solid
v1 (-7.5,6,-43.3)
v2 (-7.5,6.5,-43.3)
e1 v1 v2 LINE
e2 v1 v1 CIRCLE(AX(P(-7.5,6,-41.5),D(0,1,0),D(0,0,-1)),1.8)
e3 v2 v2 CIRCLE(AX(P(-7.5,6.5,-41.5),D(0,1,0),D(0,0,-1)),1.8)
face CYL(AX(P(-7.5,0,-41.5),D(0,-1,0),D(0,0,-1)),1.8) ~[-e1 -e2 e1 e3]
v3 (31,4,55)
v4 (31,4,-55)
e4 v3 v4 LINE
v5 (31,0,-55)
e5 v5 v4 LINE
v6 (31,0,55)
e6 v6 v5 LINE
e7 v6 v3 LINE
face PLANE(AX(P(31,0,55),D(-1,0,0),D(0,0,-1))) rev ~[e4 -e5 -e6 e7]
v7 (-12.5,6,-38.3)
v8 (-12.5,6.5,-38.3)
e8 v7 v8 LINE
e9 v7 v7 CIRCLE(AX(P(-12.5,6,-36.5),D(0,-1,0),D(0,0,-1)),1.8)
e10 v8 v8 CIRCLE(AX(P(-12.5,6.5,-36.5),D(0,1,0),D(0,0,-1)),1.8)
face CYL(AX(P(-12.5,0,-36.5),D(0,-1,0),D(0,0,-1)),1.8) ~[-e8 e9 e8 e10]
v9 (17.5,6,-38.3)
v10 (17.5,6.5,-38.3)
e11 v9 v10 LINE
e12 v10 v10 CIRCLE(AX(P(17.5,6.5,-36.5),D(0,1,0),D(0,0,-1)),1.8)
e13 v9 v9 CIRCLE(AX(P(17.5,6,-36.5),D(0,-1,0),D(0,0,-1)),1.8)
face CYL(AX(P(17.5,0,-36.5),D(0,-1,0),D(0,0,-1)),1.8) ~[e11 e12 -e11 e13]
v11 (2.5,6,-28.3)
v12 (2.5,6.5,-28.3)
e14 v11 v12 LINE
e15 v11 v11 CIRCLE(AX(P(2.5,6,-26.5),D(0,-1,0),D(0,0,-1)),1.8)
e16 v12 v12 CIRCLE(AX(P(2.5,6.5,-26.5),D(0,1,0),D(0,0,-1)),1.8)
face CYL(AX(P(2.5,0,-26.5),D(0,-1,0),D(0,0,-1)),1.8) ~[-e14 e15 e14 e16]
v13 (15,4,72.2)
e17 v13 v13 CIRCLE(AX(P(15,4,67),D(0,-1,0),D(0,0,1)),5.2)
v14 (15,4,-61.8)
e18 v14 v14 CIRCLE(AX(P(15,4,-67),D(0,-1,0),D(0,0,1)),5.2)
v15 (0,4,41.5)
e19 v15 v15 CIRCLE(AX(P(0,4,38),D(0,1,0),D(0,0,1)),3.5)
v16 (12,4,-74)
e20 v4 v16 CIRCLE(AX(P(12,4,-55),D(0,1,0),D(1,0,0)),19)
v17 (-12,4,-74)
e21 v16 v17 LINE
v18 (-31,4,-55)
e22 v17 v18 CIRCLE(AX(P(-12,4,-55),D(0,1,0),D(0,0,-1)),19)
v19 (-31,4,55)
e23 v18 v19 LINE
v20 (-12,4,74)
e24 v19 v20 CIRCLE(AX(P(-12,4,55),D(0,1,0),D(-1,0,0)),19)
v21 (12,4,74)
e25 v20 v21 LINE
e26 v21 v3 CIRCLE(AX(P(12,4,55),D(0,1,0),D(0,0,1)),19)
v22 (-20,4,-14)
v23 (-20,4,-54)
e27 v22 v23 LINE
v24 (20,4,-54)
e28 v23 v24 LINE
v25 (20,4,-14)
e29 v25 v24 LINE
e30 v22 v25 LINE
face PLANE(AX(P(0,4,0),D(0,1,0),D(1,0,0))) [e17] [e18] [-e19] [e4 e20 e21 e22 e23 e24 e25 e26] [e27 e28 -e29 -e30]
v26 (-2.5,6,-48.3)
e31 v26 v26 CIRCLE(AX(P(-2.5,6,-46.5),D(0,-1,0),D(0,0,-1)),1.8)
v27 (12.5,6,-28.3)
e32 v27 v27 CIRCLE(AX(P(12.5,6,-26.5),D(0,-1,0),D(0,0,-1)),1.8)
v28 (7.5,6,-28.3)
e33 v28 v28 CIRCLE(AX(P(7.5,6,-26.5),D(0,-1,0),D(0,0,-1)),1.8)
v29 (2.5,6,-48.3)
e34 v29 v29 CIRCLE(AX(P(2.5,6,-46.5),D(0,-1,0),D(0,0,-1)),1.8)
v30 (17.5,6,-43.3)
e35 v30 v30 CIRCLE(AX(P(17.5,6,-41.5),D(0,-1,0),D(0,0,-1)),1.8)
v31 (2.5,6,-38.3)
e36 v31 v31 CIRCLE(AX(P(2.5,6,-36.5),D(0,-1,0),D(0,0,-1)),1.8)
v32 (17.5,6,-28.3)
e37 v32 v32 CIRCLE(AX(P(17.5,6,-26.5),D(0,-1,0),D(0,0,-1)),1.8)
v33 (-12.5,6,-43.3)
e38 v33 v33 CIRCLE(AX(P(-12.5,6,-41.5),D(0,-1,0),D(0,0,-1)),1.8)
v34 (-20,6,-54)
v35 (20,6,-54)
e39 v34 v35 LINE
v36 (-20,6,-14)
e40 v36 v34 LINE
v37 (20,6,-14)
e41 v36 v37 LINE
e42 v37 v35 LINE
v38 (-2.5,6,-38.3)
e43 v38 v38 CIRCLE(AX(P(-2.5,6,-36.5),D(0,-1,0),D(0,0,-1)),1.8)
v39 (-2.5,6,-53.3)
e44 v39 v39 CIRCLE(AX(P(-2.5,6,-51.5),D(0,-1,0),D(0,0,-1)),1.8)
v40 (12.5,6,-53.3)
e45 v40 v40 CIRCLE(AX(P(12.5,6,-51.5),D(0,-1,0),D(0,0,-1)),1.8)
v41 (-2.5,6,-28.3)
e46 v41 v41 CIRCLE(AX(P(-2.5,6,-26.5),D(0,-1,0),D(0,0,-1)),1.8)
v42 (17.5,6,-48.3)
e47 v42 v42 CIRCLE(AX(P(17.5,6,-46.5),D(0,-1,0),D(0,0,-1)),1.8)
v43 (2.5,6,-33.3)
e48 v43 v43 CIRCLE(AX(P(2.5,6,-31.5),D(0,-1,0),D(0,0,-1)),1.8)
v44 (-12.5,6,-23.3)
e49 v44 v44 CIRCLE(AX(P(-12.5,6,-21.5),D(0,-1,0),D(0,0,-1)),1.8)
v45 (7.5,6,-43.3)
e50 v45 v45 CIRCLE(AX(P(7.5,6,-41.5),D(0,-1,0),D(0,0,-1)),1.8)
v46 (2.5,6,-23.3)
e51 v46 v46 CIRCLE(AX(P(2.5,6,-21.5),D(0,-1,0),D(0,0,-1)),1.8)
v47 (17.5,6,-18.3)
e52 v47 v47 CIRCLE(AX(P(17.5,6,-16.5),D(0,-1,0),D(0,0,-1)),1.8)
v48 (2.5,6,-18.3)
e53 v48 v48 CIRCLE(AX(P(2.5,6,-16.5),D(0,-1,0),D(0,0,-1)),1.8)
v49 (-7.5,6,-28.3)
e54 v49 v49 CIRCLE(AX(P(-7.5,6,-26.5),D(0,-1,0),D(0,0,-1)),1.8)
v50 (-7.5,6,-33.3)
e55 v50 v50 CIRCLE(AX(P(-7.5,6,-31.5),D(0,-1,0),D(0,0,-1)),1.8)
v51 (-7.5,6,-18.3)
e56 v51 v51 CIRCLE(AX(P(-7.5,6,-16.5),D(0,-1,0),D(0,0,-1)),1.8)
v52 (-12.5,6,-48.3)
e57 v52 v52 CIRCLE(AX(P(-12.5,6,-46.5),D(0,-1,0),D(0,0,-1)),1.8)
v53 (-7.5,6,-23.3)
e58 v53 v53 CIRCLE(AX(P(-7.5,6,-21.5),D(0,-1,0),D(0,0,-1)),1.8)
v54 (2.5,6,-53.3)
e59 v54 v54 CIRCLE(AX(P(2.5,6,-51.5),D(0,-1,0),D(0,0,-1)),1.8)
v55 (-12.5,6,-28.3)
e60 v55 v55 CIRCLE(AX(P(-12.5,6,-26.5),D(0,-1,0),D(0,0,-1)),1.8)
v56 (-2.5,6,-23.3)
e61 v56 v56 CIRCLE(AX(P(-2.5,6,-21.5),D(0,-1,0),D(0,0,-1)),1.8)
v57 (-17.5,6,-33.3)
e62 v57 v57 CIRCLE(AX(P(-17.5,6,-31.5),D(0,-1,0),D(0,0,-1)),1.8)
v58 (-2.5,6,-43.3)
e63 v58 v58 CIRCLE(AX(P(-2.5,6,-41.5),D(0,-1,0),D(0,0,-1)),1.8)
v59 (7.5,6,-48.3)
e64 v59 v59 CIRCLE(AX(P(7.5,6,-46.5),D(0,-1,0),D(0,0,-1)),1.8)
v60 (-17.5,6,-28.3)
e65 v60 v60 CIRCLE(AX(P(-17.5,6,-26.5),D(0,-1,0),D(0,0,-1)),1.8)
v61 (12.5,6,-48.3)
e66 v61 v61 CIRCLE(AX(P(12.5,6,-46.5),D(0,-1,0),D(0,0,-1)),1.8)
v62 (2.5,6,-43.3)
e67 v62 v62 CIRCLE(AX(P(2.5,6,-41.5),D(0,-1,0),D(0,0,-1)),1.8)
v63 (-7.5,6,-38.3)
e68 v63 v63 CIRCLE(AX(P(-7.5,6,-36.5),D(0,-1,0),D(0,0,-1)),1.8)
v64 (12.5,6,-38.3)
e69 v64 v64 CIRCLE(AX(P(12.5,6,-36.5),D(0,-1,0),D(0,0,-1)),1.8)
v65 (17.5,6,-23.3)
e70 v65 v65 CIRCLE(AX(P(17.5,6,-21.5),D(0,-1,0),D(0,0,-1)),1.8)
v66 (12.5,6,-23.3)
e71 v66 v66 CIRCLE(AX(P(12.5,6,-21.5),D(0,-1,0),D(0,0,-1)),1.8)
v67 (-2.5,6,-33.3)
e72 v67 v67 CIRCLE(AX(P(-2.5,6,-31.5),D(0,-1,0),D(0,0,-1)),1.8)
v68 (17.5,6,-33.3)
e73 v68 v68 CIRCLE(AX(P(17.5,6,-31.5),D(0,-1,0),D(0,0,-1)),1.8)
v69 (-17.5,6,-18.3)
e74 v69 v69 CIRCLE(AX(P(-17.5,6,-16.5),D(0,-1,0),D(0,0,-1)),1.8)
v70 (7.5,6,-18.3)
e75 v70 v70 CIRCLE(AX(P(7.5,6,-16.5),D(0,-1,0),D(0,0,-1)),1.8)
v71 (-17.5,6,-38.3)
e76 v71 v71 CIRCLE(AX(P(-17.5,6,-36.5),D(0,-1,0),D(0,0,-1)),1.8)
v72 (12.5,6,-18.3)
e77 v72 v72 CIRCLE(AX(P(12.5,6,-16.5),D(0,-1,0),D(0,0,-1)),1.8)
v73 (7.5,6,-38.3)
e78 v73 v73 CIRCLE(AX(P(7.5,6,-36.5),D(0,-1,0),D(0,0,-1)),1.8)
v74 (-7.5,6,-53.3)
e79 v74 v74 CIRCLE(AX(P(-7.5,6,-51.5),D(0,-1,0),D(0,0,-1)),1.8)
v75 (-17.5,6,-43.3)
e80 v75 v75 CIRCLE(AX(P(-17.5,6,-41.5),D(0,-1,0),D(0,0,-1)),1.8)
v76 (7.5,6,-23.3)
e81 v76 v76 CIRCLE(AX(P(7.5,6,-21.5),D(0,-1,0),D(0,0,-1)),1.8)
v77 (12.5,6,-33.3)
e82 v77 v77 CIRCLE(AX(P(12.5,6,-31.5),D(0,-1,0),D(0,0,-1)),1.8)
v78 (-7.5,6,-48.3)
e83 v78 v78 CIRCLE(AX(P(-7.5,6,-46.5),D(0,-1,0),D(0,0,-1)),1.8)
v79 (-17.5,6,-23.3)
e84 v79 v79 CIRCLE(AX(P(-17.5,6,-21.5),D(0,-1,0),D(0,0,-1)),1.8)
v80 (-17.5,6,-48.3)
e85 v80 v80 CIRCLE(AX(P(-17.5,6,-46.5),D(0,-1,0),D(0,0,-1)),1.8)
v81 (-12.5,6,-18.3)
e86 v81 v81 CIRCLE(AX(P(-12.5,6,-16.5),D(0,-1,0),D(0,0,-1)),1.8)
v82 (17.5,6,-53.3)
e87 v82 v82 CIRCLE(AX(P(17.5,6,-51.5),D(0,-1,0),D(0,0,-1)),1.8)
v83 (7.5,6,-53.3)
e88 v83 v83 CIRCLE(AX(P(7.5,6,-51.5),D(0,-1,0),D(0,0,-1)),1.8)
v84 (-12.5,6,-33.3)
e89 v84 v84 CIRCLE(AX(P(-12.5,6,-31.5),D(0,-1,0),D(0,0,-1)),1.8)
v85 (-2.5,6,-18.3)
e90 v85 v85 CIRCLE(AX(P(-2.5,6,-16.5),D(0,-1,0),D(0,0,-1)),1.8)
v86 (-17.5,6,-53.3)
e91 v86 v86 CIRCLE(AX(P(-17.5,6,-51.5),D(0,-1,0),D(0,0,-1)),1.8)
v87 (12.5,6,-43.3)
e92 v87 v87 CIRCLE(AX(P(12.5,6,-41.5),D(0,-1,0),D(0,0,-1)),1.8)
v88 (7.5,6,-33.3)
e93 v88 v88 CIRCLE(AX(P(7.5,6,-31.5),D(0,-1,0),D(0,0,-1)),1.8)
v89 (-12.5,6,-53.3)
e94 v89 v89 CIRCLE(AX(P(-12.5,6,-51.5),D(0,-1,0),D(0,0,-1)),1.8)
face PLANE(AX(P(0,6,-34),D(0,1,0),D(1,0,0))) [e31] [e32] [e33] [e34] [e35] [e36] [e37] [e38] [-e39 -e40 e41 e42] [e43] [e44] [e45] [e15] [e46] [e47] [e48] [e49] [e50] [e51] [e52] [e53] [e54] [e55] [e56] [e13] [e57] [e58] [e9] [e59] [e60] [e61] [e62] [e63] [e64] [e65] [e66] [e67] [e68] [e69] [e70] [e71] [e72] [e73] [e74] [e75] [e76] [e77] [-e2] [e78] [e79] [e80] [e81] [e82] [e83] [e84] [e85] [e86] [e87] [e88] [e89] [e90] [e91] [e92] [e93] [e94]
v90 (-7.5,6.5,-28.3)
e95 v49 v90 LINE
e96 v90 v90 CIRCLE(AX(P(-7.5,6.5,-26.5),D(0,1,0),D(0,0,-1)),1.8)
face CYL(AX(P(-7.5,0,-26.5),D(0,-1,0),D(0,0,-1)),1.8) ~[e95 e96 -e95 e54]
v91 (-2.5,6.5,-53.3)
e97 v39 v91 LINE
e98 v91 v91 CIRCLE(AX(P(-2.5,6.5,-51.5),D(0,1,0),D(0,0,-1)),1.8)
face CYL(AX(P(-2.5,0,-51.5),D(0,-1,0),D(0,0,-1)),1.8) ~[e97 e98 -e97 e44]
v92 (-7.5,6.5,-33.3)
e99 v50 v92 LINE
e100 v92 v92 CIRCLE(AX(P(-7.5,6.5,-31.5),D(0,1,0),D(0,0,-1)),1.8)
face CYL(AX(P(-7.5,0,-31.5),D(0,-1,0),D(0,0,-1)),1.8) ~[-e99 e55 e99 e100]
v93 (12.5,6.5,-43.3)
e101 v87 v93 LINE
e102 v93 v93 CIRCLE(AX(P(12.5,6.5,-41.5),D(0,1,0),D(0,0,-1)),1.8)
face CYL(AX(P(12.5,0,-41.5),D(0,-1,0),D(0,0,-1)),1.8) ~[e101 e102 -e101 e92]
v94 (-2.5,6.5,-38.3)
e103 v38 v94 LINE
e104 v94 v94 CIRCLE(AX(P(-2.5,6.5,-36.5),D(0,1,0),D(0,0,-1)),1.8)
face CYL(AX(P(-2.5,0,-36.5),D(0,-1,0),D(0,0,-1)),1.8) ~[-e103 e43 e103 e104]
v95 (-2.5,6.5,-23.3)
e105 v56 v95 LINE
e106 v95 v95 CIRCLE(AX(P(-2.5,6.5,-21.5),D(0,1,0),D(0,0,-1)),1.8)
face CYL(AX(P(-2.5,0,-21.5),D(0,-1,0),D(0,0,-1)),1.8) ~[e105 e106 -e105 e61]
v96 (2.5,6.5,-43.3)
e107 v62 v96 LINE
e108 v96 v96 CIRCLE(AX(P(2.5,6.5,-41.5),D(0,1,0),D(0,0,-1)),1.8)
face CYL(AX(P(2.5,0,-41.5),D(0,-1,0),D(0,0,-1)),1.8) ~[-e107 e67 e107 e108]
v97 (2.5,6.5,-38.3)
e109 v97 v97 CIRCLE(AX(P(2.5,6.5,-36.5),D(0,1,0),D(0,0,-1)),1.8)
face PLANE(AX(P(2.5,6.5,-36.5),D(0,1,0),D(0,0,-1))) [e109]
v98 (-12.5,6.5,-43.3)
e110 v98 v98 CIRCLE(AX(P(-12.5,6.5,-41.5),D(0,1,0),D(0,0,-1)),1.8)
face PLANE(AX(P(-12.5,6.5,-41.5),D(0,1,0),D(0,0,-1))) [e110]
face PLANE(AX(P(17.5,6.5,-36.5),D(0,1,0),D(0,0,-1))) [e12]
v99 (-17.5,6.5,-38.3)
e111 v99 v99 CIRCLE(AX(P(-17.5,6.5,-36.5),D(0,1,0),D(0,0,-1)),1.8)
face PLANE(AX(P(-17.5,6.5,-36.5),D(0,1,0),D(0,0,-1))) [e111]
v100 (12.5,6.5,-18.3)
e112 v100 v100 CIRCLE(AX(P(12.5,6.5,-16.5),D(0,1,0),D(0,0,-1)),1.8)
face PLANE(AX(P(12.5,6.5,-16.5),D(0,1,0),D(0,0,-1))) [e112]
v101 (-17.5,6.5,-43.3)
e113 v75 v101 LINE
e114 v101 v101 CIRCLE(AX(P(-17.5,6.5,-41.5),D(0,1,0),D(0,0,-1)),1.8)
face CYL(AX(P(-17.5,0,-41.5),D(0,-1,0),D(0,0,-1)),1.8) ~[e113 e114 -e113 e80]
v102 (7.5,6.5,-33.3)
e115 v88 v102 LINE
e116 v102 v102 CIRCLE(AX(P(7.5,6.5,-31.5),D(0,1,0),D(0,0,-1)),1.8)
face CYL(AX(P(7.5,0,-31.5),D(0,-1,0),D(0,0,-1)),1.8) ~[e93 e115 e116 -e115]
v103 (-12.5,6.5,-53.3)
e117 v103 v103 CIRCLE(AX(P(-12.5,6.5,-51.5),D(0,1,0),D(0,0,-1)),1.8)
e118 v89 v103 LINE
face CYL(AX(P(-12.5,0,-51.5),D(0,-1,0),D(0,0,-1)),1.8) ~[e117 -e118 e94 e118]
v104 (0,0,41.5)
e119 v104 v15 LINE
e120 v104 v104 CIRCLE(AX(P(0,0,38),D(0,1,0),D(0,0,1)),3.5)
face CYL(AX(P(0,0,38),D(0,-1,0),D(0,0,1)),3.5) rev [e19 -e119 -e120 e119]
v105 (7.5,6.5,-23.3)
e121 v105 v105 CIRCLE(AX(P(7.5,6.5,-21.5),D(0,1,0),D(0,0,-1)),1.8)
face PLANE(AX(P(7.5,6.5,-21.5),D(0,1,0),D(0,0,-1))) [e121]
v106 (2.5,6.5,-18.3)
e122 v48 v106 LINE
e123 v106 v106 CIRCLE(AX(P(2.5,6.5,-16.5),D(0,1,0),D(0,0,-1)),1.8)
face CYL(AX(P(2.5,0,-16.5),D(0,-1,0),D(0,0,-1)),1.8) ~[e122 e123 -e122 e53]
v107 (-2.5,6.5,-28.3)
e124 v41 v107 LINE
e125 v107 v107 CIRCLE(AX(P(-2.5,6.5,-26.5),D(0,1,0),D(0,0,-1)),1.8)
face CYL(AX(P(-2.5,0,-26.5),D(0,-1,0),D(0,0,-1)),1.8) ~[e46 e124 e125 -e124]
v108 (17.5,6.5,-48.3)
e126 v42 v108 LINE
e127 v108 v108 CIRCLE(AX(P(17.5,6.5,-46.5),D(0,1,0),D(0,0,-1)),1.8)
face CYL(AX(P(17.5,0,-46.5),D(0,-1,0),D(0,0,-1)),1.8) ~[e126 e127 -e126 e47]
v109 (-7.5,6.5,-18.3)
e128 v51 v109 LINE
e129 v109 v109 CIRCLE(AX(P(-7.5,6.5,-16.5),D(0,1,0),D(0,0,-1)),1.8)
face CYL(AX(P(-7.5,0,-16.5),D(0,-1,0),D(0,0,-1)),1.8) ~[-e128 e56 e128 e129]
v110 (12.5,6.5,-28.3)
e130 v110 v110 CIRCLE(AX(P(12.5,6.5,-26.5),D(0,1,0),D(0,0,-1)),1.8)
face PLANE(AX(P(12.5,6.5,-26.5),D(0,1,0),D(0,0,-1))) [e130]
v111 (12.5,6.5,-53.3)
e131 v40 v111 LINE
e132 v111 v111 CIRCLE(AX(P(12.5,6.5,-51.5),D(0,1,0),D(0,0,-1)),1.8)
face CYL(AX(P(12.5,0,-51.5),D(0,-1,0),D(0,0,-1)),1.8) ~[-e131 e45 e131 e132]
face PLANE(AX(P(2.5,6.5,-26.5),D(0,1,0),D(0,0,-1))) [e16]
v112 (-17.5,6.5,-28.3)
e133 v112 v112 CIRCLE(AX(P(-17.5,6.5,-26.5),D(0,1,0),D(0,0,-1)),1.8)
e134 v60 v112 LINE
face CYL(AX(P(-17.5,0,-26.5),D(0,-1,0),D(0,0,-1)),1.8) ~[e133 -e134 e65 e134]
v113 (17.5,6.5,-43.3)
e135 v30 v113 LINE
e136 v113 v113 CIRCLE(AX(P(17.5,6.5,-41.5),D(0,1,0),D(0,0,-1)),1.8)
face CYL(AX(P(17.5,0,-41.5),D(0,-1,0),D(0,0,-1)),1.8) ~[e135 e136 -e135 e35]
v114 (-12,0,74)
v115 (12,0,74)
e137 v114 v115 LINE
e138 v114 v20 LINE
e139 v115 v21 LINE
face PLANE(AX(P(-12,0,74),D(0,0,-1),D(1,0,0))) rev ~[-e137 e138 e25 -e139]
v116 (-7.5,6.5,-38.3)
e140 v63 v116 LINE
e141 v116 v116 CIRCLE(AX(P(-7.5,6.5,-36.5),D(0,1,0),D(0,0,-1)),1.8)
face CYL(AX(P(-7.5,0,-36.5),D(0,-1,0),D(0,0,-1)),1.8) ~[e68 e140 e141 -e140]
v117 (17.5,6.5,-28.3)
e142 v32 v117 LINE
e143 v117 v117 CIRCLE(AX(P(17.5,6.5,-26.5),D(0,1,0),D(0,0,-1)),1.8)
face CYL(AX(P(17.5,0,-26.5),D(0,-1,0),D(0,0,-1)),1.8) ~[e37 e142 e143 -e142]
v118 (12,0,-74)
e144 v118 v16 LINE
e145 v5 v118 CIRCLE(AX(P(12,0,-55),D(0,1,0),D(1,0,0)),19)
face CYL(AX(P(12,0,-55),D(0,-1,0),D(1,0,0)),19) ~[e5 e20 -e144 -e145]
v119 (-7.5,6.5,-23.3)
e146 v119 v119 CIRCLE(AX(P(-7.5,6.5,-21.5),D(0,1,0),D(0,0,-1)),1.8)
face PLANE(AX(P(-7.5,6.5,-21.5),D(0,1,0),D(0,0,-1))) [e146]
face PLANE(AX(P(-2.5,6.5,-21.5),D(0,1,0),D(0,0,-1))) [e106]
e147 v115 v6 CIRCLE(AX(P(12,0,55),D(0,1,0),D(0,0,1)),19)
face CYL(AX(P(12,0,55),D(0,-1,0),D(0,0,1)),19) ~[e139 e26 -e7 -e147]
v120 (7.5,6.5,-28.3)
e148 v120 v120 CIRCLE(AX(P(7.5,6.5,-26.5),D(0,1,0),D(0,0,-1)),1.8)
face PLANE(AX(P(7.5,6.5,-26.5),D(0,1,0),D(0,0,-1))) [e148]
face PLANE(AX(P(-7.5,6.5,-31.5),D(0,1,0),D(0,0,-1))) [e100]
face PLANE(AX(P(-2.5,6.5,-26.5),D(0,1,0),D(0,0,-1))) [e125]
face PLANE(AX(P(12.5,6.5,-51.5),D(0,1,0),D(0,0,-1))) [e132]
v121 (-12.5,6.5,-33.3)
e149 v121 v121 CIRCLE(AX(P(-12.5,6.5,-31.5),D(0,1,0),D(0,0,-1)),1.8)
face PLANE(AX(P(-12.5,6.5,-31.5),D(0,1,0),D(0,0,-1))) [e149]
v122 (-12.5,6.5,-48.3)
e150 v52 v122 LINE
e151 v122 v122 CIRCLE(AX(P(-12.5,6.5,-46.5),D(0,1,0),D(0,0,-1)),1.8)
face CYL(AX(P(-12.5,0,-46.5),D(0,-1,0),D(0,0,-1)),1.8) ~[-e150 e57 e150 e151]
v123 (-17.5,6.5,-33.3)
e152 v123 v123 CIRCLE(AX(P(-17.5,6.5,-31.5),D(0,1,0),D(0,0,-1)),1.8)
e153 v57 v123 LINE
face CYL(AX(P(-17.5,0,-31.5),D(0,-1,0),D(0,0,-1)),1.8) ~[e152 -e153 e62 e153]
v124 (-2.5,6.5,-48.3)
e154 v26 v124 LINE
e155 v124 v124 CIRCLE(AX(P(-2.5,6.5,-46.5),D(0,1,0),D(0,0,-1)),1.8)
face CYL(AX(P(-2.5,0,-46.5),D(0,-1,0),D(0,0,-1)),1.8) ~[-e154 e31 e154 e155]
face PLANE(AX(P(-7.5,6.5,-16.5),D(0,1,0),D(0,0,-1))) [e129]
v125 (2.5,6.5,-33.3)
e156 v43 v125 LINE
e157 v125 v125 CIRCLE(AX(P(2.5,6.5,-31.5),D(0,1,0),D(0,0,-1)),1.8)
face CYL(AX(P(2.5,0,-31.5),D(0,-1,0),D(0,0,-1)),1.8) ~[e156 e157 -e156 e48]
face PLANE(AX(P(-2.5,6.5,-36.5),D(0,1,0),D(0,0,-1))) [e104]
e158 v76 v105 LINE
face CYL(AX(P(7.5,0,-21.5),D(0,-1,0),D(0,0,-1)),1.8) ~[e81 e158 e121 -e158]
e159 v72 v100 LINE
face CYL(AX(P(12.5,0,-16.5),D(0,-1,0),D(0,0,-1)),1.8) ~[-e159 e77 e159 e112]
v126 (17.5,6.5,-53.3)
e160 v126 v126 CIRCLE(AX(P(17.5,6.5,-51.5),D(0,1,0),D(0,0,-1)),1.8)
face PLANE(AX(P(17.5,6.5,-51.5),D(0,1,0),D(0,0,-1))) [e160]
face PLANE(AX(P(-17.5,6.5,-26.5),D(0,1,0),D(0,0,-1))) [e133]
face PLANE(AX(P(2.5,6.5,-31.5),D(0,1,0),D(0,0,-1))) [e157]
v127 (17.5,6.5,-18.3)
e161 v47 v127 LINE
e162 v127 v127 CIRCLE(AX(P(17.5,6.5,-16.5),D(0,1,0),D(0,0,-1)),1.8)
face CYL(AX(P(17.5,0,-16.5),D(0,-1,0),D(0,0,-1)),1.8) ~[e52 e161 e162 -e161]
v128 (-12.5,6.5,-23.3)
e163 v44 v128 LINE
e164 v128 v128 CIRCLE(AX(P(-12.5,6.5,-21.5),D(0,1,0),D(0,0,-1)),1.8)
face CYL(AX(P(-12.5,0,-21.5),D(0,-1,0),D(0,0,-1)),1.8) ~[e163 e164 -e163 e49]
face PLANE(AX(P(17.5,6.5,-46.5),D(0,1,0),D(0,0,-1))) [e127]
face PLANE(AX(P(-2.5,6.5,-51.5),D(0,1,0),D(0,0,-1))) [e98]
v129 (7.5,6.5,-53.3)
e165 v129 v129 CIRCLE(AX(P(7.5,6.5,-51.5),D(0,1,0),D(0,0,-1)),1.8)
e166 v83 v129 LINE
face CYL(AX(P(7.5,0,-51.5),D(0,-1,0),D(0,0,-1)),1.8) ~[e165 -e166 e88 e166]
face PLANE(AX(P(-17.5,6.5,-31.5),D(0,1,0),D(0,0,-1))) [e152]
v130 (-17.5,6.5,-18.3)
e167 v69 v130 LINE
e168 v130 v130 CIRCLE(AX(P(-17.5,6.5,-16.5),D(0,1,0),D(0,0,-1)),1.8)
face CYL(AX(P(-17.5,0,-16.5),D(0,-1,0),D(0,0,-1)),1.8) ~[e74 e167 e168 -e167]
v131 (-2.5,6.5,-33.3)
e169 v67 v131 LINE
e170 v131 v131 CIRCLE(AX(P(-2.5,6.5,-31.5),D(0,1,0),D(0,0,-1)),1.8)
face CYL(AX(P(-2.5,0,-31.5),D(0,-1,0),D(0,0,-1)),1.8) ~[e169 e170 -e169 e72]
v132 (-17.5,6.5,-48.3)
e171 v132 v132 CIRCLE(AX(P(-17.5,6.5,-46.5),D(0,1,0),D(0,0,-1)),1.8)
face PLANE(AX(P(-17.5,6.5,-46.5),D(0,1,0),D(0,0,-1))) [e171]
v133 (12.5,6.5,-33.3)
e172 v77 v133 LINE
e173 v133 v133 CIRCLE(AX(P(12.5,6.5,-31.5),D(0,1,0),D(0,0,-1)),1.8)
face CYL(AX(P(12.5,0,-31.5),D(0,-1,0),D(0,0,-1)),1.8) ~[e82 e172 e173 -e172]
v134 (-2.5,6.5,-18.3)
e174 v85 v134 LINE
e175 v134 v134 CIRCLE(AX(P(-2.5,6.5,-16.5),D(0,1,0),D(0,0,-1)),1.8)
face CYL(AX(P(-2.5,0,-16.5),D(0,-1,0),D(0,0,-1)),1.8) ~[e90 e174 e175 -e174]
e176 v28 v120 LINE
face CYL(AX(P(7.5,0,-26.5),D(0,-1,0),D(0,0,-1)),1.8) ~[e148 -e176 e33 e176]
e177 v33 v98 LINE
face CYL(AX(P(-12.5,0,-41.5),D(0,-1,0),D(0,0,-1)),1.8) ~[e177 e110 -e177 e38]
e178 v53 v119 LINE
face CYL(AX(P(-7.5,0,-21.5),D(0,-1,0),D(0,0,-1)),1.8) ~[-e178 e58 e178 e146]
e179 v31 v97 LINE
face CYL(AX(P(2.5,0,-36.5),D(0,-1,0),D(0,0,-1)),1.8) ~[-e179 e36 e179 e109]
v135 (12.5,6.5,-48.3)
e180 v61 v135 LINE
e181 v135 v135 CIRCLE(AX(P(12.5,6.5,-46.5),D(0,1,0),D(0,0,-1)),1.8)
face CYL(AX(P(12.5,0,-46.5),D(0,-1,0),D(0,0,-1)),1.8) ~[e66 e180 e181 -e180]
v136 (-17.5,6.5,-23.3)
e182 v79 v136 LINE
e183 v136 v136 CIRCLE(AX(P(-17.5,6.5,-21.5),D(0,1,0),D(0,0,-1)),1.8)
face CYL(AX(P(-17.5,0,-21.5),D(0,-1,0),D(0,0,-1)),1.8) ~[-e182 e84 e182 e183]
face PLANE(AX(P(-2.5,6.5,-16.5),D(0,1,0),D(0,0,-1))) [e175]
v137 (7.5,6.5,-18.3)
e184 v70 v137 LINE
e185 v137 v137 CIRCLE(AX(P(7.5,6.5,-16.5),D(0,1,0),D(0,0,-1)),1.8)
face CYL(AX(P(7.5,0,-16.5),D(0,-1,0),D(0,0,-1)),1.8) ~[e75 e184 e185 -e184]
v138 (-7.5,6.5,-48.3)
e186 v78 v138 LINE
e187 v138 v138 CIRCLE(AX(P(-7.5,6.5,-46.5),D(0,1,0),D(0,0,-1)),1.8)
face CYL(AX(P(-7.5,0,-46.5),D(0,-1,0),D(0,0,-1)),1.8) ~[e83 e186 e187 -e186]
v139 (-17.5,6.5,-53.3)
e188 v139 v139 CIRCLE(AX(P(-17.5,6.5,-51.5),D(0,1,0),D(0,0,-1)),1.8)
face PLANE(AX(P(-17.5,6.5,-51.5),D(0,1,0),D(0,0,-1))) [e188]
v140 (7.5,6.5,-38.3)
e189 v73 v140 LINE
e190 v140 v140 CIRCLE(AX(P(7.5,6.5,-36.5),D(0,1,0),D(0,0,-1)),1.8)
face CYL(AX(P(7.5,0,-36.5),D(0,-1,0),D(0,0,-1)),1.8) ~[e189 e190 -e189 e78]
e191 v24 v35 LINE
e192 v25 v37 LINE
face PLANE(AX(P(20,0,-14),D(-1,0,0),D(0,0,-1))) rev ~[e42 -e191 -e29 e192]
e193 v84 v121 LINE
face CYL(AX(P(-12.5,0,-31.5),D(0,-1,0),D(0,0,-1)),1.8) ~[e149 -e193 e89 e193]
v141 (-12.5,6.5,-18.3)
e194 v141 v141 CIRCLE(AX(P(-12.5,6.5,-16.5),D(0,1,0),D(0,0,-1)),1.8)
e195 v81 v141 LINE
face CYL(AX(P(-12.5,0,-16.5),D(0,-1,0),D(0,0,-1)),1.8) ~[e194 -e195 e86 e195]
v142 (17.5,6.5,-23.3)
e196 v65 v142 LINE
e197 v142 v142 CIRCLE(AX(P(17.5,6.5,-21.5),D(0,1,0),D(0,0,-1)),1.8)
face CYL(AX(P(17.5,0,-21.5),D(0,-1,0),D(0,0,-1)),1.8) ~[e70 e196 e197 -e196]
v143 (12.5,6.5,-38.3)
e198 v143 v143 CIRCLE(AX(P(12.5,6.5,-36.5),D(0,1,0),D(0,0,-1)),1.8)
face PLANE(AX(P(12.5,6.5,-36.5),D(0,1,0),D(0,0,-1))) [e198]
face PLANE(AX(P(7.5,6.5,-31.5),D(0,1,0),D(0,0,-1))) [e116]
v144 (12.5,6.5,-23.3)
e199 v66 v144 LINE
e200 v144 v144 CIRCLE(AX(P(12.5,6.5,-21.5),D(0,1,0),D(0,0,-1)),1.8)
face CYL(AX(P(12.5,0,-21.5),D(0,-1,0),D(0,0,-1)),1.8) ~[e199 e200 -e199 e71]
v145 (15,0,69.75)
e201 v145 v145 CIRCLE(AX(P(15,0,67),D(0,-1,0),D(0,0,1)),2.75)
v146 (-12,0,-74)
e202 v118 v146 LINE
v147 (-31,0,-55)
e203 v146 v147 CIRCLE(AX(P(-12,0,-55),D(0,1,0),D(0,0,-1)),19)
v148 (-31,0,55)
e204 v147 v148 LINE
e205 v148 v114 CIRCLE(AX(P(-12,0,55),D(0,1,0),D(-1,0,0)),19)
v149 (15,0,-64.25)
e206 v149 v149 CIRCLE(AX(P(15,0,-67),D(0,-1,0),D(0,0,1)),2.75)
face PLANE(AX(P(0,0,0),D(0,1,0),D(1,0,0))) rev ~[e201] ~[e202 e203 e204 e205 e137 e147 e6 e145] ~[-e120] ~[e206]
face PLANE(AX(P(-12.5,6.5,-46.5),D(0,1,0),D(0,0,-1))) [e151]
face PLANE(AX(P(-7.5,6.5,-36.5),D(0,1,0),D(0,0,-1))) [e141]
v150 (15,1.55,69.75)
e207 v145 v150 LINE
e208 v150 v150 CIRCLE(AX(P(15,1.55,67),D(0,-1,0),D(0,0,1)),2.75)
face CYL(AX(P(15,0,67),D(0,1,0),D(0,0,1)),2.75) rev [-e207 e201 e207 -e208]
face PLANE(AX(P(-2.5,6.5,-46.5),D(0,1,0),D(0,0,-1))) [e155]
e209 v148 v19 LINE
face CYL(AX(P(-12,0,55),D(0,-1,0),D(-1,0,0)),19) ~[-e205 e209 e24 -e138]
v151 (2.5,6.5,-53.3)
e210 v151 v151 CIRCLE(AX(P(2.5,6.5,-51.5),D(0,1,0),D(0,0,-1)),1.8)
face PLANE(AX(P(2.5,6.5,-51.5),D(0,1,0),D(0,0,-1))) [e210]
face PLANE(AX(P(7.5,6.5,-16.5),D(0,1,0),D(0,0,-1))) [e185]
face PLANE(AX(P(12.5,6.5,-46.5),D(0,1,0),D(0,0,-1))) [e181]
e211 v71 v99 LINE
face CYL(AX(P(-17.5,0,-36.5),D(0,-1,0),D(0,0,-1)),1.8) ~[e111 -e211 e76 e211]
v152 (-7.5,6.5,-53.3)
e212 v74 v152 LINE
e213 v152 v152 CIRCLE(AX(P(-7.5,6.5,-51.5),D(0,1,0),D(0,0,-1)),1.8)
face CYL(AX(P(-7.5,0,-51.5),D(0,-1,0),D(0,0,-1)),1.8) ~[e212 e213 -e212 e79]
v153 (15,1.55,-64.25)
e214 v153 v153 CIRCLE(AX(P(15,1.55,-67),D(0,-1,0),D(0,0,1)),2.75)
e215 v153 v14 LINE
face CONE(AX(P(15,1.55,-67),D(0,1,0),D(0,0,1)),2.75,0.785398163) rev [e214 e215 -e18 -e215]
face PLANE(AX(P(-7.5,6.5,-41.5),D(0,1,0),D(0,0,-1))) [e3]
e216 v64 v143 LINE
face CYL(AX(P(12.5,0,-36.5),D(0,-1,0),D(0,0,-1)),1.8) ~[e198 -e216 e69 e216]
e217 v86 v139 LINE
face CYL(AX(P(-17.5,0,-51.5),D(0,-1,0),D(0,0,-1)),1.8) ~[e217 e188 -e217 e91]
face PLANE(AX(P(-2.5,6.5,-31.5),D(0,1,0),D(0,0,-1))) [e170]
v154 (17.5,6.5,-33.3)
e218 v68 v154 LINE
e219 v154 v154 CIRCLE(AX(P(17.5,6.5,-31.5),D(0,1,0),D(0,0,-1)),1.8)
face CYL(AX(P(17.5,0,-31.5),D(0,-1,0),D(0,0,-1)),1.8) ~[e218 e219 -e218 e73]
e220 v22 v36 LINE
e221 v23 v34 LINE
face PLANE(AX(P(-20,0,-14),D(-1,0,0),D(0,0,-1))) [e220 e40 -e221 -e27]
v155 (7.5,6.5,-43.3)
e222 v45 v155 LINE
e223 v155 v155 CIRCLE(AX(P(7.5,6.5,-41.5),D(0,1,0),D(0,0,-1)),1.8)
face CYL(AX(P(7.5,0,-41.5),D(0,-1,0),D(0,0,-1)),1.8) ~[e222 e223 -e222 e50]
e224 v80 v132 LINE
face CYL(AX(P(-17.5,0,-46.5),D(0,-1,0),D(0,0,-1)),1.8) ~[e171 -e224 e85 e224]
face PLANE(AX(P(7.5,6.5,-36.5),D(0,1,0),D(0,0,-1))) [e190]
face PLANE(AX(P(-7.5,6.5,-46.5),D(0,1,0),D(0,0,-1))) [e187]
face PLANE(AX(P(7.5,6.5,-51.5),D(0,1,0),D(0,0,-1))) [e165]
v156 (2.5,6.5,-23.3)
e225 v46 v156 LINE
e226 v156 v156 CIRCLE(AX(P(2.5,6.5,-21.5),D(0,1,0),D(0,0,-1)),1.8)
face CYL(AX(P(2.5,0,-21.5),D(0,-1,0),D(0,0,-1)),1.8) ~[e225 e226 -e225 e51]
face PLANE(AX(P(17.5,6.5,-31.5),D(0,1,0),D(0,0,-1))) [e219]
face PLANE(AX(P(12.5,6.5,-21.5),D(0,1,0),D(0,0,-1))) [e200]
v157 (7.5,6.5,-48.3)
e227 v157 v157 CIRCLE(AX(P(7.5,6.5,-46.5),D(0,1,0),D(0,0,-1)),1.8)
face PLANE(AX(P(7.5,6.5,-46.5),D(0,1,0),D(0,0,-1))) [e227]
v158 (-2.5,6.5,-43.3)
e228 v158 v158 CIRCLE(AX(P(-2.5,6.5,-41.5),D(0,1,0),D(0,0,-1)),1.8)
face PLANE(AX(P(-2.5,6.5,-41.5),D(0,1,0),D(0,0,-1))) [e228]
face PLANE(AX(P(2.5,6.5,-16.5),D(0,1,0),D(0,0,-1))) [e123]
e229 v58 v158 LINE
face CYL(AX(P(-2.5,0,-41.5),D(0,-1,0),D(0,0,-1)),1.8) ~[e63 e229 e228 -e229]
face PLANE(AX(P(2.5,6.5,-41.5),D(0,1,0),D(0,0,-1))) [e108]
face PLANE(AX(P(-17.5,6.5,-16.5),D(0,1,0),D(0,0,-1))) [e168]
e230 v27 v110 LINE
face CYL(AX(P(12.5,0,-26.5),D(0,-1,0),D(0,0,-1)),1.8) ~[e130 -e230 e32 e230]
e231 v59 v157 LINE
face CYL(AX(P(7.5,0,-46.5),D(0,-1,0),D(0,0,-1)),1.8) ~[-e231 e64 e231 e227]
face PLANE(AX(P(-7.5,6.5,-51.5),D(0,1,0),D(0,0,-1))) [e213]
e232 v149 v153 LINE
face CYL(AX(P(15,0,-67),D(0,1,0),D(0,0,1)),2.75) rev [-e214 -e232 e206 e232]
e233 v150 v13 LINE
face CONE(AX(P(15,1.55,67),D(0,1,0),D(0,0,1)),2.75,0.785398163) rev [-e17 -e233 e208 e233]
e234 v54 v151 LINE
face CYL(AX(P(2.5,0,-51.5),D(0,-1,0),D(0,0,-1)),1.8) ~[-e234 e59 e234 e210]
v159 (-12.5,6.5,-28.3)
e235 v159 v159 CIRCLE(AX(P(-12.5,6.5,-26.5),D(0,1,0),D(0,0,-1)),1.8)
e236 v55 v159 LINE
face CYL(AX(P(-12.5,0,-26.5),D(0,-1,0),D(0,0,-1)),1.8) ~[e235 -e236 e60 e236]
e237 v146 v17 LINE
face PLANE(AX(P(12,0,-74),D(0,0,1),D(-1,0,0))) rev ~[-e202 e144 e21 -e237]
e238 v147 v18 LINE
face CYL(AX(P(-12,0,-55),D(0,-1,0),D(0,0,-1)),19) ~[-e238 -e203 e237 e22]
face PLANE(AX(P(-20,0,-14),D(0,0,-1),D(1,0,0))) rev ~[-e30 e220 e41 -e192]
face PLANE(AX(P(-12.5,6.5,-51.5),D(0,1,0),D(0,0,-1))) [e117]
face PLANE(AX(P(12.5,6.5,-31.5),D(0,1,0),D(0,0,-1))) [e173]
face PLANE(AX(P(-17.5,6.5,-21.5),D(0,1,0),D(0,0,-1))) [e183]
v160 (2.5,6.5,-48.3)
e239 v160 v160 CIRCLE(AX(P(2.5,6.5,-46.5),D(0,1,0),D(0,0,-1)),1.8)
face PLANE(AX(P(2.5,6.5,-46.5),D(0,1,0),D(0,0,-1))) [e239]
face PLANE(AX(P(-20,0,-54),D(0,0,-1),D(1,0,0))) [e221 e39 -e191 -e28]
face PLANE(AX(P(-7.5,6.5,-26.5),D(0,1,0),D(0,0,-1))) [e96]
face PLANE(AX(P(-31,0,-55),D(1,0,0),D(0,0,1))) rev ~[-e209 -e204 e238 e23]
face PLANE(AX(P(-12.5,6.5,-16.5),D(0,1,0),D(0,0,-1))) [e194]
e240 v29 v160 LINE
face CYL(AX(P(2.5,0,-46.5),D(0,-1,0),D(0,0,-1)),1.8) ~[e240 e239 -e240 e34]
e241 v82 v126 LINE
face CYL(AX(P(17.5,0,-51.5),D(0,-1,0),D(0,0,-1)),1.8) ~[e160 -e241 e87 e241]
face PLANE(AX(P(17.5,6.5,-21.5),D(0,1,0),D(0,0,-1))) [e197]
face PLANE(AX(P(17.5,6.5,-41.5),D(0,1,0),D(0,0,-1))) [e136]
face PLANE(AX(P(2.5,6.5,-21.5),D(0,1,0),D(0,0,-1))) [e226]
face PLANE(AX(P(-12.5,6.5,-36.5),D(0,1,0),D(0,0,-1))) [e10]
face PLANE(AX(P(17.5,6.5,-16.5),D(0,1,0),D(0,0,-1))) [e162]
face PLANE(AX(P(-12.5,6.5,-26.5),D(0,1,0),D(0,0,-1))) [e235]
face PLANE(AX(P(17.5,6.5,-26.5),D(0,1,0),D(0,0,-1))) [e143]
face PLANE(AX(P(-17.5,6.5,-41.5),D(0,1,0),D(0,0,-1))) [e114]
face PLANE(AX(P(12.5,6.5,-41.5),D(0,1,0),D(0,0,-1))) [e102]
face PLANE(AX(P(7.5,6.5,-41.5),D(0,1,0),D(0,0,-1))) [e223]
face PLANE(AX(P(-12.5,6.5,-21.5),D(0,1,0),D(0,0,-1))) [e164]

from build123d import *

# Parameters (mm, degrees)
SKETCH1_R                                    = 3.5
SKETCH1_W                                    = 40
SKETCH1_H                                    = 40
BOSS_EXTRUDE1_DEPTH                          = 4
SKETCH1_5_W                                  = 40
SKETCH1_5_H                                  = 40
SKETCH1_5_R                                  = 1.8
BOSS_EXTRUDE2_DEPTH                          = 6
SKETCH1_6_R                                  = 1.8
BOSS_EXTRUDE3_DEPTH                          = 6.5
CSK_FOR_M5_COUNTERSUNK_FLAT_HEAD1_AT_2_COUNT = 2
CSK_FOR_M5_COUNTERSUNK_FLAT_HEAD1_AT_2_PITCH = 134


with BuildPart() as part:
    # Sketch1 → Boss-Extrude1 (new body)
    with BuildSketch(Plane(origin=(0, 0, 0), x_dir=(1, 0, 0), z_dir=(0, 1, 0))):
        with BuildLine():
            Line((-12, -74), (12, -74))
            ThreePointArc((12, -74), (25.435028843, -68.435028843), (31, -55))
            Line((31, -55), (31, 55))
            ThreePointArc((31, 55), (25.435028843, 68.435028843), (12, 74))
            Line((12, 74), (-12, 74))
            ThreePointArc((-12, 74), (-25.435028843, 68.435028843), (-31, 55))
            Line((-31, 55), (-31, -55))
            ThreePointArc((-31, -55), (-25.435028843, -68.435028843), (-12, -74))
        make_face()
        with Locations(Location((0, -38, 0), (0, 0, 270))):
            Circle(SKETCH1_R, mode=Mode.SUBTRACT)
        with Locations((0, 34)):
            Rectangle(SKETCH1_W, SKETCH1_H, mode=Mode.SUBTRACT)
    extrude(amount=BOSS_EXTRUDE1_DEPTH)

    # Sketch1<5> → Boss-Extrude2 (add)
    with BuildSketch(Plane(origin=(0, 0, 0), x_dir=(1, 0, 0), z_dir=(0, 1, 0))):
        with Locations((0, 34)):
            Rectangle(SKETCH1_5_W, SKETCH1_5_H)
        with Locations(Location((-17.5, 51.5, 0), (0, 0, 270))):
            Circle(SKETCH1_5_R, mode=Mode.SUBTRACT)
        with Locations(Location((-17.5, 46.5, 0), (0, 0, 270))):
            Circle(SKETCH1_5_R, mode=Mode.SUBTRACT)
        with Locations(Location((-17.5, 41.5, 0), (0, 0, 270))):
            Circle(SKETCH1_5_R, mode=Mode.SUBTRACT)
        with Locations(Location((-17.5, 36.5, 0), (0, 0, 270))):
            Circle(SKETCH1_5_R, mode=Mode.SUBTRACT)
        with Locations(Location((-17.5, 31.5, 0), (0, 0, 270))):
            Circle(SKETCH1_5_R, mode=Mode.SUBTRACT)
        with Locations(Location((-17.5, 26.5, 0), (0, 0, 270))):
            Circle(SKETCH1_5_R, mode=Mode.SUBTRACT)
        with Locations(Location((-17.5, 21.5, 0), (0, 0, 270))):
            Circle(SKETCH1_5_R, mode=Mode.SUBTRACT)
        with Locations(Location((-17.5, 16.5, 0), (0, 0, 270))):
            Circle(SKETCH1_5_R, mode=Mode.SUBTRACT)
        with Locations(Location((-12.5, 46.5, 0), (0, 0, 270))):
            Circle(SKETCH1_5_R, mode=Mode.SUBTRACT)
        with Locations(Location((-12.5, 41.5, 0), (0, 0, 270))):
            Circle(SKETCH1_5_R, mode=Mode.SUBTRACT)
        with Locations(Location((-12.5, 36.5, 0), (0, 0, 270))):
            Circle(SKETCH1_5_R, mode=Mode.SUBTRACT)
        with Locations(Location((-12.5, 31.5, 0), (0, 0, 270))):
            Circle(SKETCH1_5_R, mode=Mode.SUBTRACT)
        with Locations(Location((-12.5, 26.5, 0), (0, 0, 270))):
            Circle(SKETCH1_5_R, mode=Mode.SUBTRACT)
        with Locations(Location((-12.5, 21.5, 0), (0, 0, 270))):
            Circle(SKETCH1_5_R, mode=Mode.SUBTRACT)
        with Locations(Location((-12.5, 16.5, 0), (0, 0, 270))):
            Circle(SKETCH1_5_R, mode=Mode.SUBTRACT)
        with Locations(Location((-7.5, 46.5, 0), (0, 0, 270))):
            Circle(SKETCH1_5_R, mode=Mode.SUBTRACT)
        with Locations(Location((-7.5, 41.5, 0), (0, 0, 270))):
            Circle(SKETCH1_5_R, mode=Mode.SUBTRACT)
        with Locations(Location((-7.5, 36.5, 0), (0, 0, 270))):
            Circle(SKETCH1_5_R, mode=Mode.SUBTRACT)
        with Locations(Location((-7.5, 31.5, 0), (0, 0, 270))):
            Circle(SKETCH1_5_R, mode=Mode.SUBTRACT)
        with Locations(Location((-7.5, 26.5, 0), (0, 0, 270))):
            Circle(SKETCH1_5_R, mode=Mode.SUBTRACT)
        with Locations(Location((-7.5, 21.5, 0), (0, 0, 270))):
            Circle(SKETCH1_5_R, mode=Mode.SUBTRACT)
        with Locations(Location((-7.5, 16.5, 0), (0, 0, 270))):
            Circle(SKETCH1_5_R, mode=Mode.SUBTRACT)
        with Locations(Location((-2.5, 46.5, 0), (0, 0, 270))):
            Circle(SKETCH1_5_R, mode=Mode.SUBTRACT)
        with Locations(Location((-2.5, 41.5, 0), (0, 0, 270))):
            Circle(SKETCH1_5_R, mode=Mode.SUBTRACT)
        with Locations(Location((-2.5, 36.5, 0), (0, 0, 270))):
            Circle(SKETCH1_5_R, mode=Mode.SUBTRACT)
        with Locations(Location((-2.5, 31.5, 0), (0, 0, 270))):
            Circle(SKETCH1_5_R, mode=Mode.SUBTRACT)
        with Locations(Location((-2.5, 26.5, 0), (0, 0, 270))):
            Circle(SKETCH1_5_R, mode=Mode.SUBTRACT)
        with Locations(Location((-2.5, 21.5, 0), (0, 0, 270))):
            Circle(SKETCH1_5_R, mode=Mode.SUBTRACT)
        with Locations(Location((-2.5, 16.5, 0), (0, 0, 270))):
            Circle(SKETCH1_5_R, mode=Mode.SUBTRACT)
        with Locations(Location((2.5, 46.5, 0), (0, 0, 270))):
            Circle(SKETCH1_5_R, mode=Mode.SUBTRACT)
        with Locations(Location((2.5, 41.5, 0), (0, 0, 270))):
            Circle(SKETCH1_5_R, mode=Mode.SUBTRACT)
        with Locations(Location((2.5, 36.5, 0), (0, 0, 270))):
            Circle(SKETCH1_5_R, mode=Mode.SUBTRACT)
        with Locations(Location((2.5, 31.5, 0), (0, 0, 270))):
            Circle(SKETCH1_5_R, mode=Mode.SUBTRACT)
        with Locations(Location((2.5, 26.5, 0), (0, 0, 270))):
            Circle(SKETCH1_5_R, mode=Mode.SUBTRACT)
        with Locations(Location((2.5, 21.5, 0), (0, 0, 270))):
            Circle(SKETCH1_5_R, mode=Mode.SUBTRACT)
        with Locations(Location((2.5, 16.5, 0), (0, 0, 270))):
            Circle(SKETCH1_5_R, mode=Mode.SUBTRACT)
        with Locations(Location((7.5, 46.5, 0), (0, 0, 270))):
            Circle(SKETCH1_5_R, mode=Mode.SUBTRACT)
        with Locations(Location((7.5, 41.5, 0), (0, 0, 270))):
            Circle(SKETCH1_5_R, mode=Mode.SUBTRACT)
        with Locations(Location((7.5, 36.5, 0), (0, 0, 270))):
            Circle(SKETCH1_5_R, mode=Mode.SUBTRACT)
        with Locations(Location((7.5, 31.5, 0), (0, 0, 270))):
            Circle(SKETCH1_5_R, mode=Mode.SUBTRACT)
        with Locations(Location((7.5, 26.5, 0), (0, 0, 270))):
            Circle(SKETCH1_5_R, mode=Mode.SUBTRACT)
        with Locations(Location((7.5, 21.5, 0), (0, 0, 270))):
            Circle(SKETCH1_5_R, mode=Mode.SUBTRACT)
        with Locations(Location((7.5, 16.5, 0), (0, 0, 270))):
            Circle(SKETCH1_5_R, mode=Mode.SUBTRACT)
        with Locations(Location((12.5, 46.5, 0), (0, 0, 270))):
            Circle(SKETCH1_5_R, mode=Mode.SUBTRACT)
        with Locations(Location((12.5, 41.5, 0), (0, 0, 270))):
            Circle(SKETCH1_5_R, mode=Mode.SUBTRACT)
        with Locations(Location((12.5, 36.5, 0), (0, 0, 270))):
            Circle(SKETCH1_5_R, mode=Mode.SUBTRACT)
        with Locations(Location((12.5, 31.5, 0), (0, 0, 270))):
            Circle(SKETCH1_5_R, mode=Mode.SUBTRACT)
        with Locations(Location((12.5, 26.5, 0), (0, 0, 270))):
            Circle(SKETCH1_5_R, mode=Mode.SUBTRACT)
        with Locations(Location((12.5, 21.5, 0), (0, 0, 270))):
            Circle(SKETCH1_5_R, mode=Mode.SUBTRACT)
        with Locations(Location((12.5, 16.5, 0), (0, 0, 270))):
            Circle(SKETCH1_5_R, mode=Mode.SUBTRACT)
        with Locations(Location((17.5, 46.5, 0), (0, 0, 270))):
            Circle(SKETCH1_5_R, mode=Mode.SUBTRACT)
        with Locations(Location((17.5, 41.5, 0), (0, 0, 270))):
            Circle(SKETCH1_5_R, mode=Mode.SUBTRACT)
        with Locations(Location((17.5, 36.5, 0), (0, 0, 270))):
            Circle(SKETCH1_5_R, mode=Mode.SUBTRACT)
        with Locations(Location((17.5, 31.5, 0), (0, 0, 270))):
            Circle(SKETCH1_5_R, mode=Mode.SUBTRACT)
        with Locations(Location((17.5, 26.5, 0), (0, 0, 270))):
            Circle(SKETCH1_5_R, mode=Mode.SUBTRACT)
        with Locations(Location((17.5, 21.5, 0), (0, 0, 270))):
            Circle(SKETCH1_5_R, mode=Mode.SUBTRACT)
        with Locations(Location((17.5, 16.5, 0), (0, 0, 270))):
            Circle(SKETCH1_5_R, mode=Mode.SUBTRACT)
        with Locations(Location((-12.5, 51.5, 0), (0, 0, 270))):
            Circle(SKETCH1_5_R, mode=Mode.SUBTRACT)
        with Locations(Location((-7.5, 51.5, 0), (0, 0, 270))):
            Circle(SKETCH1_5_R, mode=Mode.SUBTRACT)
        with Locations(Location((-2.5, 51.5, 0), (0, 0, 270))):
            Circle(SKETCH1_5_R, mode=Mode.SUBTRACT)
        with Locations(Location((2.5, 51.5, 0), (0, 0, 270))):
            Circle(SKETCH1_5_R, mode=Mode.SUBTRACT)
        with Locations(Location((7.5, 51.5, 0), (0, 0, 270))):
            Circle(SKETCH1_5_R, mode=Mode.SUBTRACT)
        with Locations(Location((12.5, 51.5, 0), (0, 0, 270))):
            Circle(SKETCH1_5_R, mode=Mode.SUBTRACT)
        with Locations(Location((17.5, 51.5, 0), (0, 0, 270))):
            Circle(SKETCH1_5_R, mode=Mode.SUBTRACT)
    extrude(amount=BOSS_EXTRUDE2_DEPTH)

    # Sketch1<6> → Boss-Extrude3 (add)
    with BuildSketch(Plane(origin=(0, 0, 0), x_dir=(1, 0, 0), z_dir=(0, 1, 0))):
        with Locations(Location((-7.5, 41.5, 0), (0, 0, 90))):
            Circle(SKETCH1_6_R)
        with Locations(Location((-12.5, 41.5, 0), (0, 0, 90))):
            Circle(SKETCH1_6_R)
        with Locations(Location((-12.5, 46.5, 0), (0, 0, 90))):
            Circle(SKETCH1_6_R)
        with Locations(Location((-7.5, 46.5, 0), (0, 0, 90))):
            Circle(SKETCH1_6_R)
        with Locations(Location((-12.5, 51.5, 0), (0, 0, 90))):
            Circle(SKETCH1_6_R)
        with Locations(Location((-17.5, 51.5, 0), (0, 0, 90))):
            Circle(SKETCH1_6_R)
        with Locations(Location((-17.5, 46.5, 0), (0, 0, 90))):
            Circle(SKETCH1_6_R)
        with Locations(Location((-17.5, 41.5, 0), (0, 0, 90))):
            Circle(SKETCH1_6_R)
        with Locations(Location((-17.5, 36.5, 0), (0, 0, 90))):
            Circle(SKETCH1_6_R)
        with Locations(Location((-17.5, 31.5, 0), (0, 0, 90))):
            Circle(SKETCH1_6_R)
        with Locations(Location((-17.5, 26.5, 0), (0, 0, 90))):
            Circle(SKETCH1_6_R)
        with Locations(Location((-17.5, 21.5, 0), (0, 0, 90))):
            Circle(SKETCH1_6_R)
        with Locations(Location((-17.5, 16.5, 0), (0, 0, 90))):
            Circle(SKETCH1_6_R)
        with Locations(Location((-12.5, 16.5, 0), (0, 0, 90))):
            Circle(SKETCH1_6_R)
        with Locations(Location((-12.5, 21.5, 0), (0, 0, 90))):
            Circle(SKETCH1_6_R)
        with Locations(Location((-12.5, 26.5, 0), (0, 0, 90))):
            Circle(SKETCH1_6_R)
        with Locations(Location((-12.5, 31.5, 0), (0, 0, 90))):
            Circle(SKETCH1_6_R)
        with Locations(Location((-12.5, 36.5, 0), (0, 0, 90))):
            Circle(SKETCH1_6_R)
        with Locations(Location((-7.5, 36.5, 0), (0, 0, 90))):
            Circle(SKETCH1_6_R)
        with Locations(Location((-7.5, 31.5, 0), (0, 0, 90))):
            Circle(SKETCH1_6_R)
        with Locations(Location((-7.5, 26.5, 0), (0, 0, 90))):
            Circle(SKETCH1_6_R)
        with Locations(Location((-7.5, 21.5, 0), (0, 0, 90))):
            Circle(SKETCH1_6_R)
        with Locations(Location((-7.5, 16.5, 0), (0, 0, 90))):
            Circle(SKETCH1_6_R)
        with Locations(Location((-2.5, 16.5, 0), (0, 0, 90))):
            Circle(SKETCH1_6_R)
        with Locations(Location((-2.5, 21.5, 0), (0, 0, 90))):
            Circle(SKETCH1_6_R)
        with Locations(Location((-2.5, 31.5, 0), (0, 0, 90))):
            Circle(SKETCH1_6_R)
        with Locations(Location((-2.5, 26.5, 0), (0, 0, 90))):
            Circle(SKETCH1_6_R)
        with Locations(Location((-2.5, 36.5, 0), (0, 0, 90))):
            Circle(SKETCH1_6_R)
        with Locations(Location((-2.5, 41.5, 0), (0, 0, 90))):
            Circle(SKETCH1_6_R)
        with Locations(Location((-2.5, 46.5, 0), (0, 0, 90))):
            Circle(SKETCH1_6_R)
        with Locations(Location((-2.5, 51.5, 0), (0, 0, 90))):
            Circle(SKETCH1_6_R)
        with Locations(Location((-7.5, 51.5, 0), (0, 0, 90))):
            Circle(SKETCH1_6_R)
        with Locations(Location((2.5, 51.5, 0), (0, 0, 90))):
            Circle(SKETCH1_6_R)
        with Locations(Location((2.5, 46.5, 0), (0, 0, 90))):
            Circle(SKETCH1_6_R)
        with Locations(Location((2.5, 41.5, 0), (0, 0, 90))):
            Circle(SKETCH1_6_R)
        with Locations(Location((7.5, 41.5, 0), (0, 0, 90))):
            Circle(SKETCH1_6_R)
        with Locations(Location((7.5, 46.5, 0), (0, 0, 90))):
            Circle(SKETCH1_6_R)
        with Locations(Location((7.5, 51.5, 0), (0, 0, 90))):
            Circle(SKETCH1_6_R)
        with Locations(Location((12.5, 51.5, 0), (0, 0, 90))):
            Circle(SKETCH1_6_R)
        with Locations(Location((12.5, 46.5, 0), (0, 0, 90))):
            Circle(SKETCH1_6_R)
        with Locations(Location((17.5, 46.5, 0), (0, 0, 90))):
            Circle(SKETCH1_6_R)
        with Locations(Location((17.5, 51.5, 0), (0, 0, 90))):
            Circle(SKETCH1_6_R)
        with Locations(Location((17.5, 41.5, 0), (0, 0, 90))):
            Circle(SKETCH1_6_R)
        with Locations(Location((12.5, 41.5, 0), (0, 0, 90))):
            Circle(SKETCH1_6_R)
        with Locations(Location((12.5, 36.5, 0), (0, 0, 90))):
            Circle(SKETCH1_6_R)
        with Locations(Location((7.5, 36.5, 0), (0, 0, 90))):
            Circle(SKETCH1_6_R)
        with Locations(Location((2.5, 36.5, 0), (0, 0, 90))):
            Circle(SKETCH1_6_R)
        with Locations(Location((2.5, 31.5, 0), (0, 0, 90))):
            Circle(SKETCH1_6_R)
        with Locations(Location((7.5, 31.5, 0), (0, 0, 90))):
            Circle(SKETCH1_6_R)
        with Locations(Location((12.5, 31.5, 0), (0, 0, 90))):
            Circle(SKETCH1_6_R)
        with Locations(Location((17.5, 31.5, 0), (0, 0, 90))):
            Circle(SKETCH1_6_R)
        with Locations(Location((17.5, 36.5, 0), (0, 0, 90))):
            Circle(SKETCH1_6_R)
        with Locations(Location((17.5, 26.5, 0), (0, 0, 90))):
            Circle(SKETCH1_6_R)
        with Locations(Location((17.5, 21.5, 0), (0, 0, 90))):
            Circle(SKETCH1_6_R)
        with Locations(Location((17.5, 16.5, 0), (0, 0, 90))):
            Circle(SKETCH1_6_R)
        with Locations(Location((12.5, 16.5, 0), (0, 0, 90))):
            Circle(SKETCH1_6_R)
        with Locations(Location((12.5, 21.5, 0), (0, 0, 90))):
            Circle(SKETCH1_6_R)
        with Locations(Location((12.5, 26.5, 0), (0, 0, 90))):
            Circle(SKETCH1_6_R)
        with Locations(Location((7.5, 26.5, 0), (0, 0, 90))):
            Circle(SKETCH1_6_R)
        with Locations(Location((2.5, 26.5, 0), (0, 0, 90))):
            Circle(SKETCH1_6_R)
        with Locations(Location((2.5, 21.5, 0), (0, 0, 90))):
            Circle(SKETCH1_6_R)
        with Locations(Location((7.5, 21.5, 0), (0, 0, 90))):
            Circle(SKETCH1_6_R)
        with Locations(Location((7.5, 16.5, 0), (0, 0, 90))):
            Circle(SKETCH1_6_R)
        with Locations(Location((2.5, 16.5, 0), (0, 0, 90))):
            Circle(SKETCH1_6_R)
    extrude(amount=BOSS_EXTRUDE3_DEPTH)

    # Sketch7 → CSK for M5 Countersunk Flat Head1 (revolve, cut)
    with BuildSketch(Plane(origin=(15, 4, -67), x_dir=(0, 0, 1), z_dir=(1, 0, 0))):
        Polygon((0, 0), (0, 4), (2.75, 4), (2.75, 2.45), (5.2, 0), align=None)
    csk_for_m5_countersunk_flat_head1 = revolve(axis=Axis((15, 10.35, -67), (0, -1, 0)), mode=Mode.SUBTRACT)

    # CSK for M5 Countersunk Flat Head1 at 2: CSK for M5 Countersunk Flat Head1 ×2
    with Locations(*[(0, 0, i * CSK_FOR_M5_COUNTERSUNK_FLAT_HEAD1_AT_2_PITCH) for i in range(1, CSK_FOR_M5_COUNTERSUNK_FLAT_HEAD1_AT_2_COUNT)]):
        add(csk_for_m5_countersunk_flat_head1, mode=Mode.SUBTRACT)


solid = part.part
